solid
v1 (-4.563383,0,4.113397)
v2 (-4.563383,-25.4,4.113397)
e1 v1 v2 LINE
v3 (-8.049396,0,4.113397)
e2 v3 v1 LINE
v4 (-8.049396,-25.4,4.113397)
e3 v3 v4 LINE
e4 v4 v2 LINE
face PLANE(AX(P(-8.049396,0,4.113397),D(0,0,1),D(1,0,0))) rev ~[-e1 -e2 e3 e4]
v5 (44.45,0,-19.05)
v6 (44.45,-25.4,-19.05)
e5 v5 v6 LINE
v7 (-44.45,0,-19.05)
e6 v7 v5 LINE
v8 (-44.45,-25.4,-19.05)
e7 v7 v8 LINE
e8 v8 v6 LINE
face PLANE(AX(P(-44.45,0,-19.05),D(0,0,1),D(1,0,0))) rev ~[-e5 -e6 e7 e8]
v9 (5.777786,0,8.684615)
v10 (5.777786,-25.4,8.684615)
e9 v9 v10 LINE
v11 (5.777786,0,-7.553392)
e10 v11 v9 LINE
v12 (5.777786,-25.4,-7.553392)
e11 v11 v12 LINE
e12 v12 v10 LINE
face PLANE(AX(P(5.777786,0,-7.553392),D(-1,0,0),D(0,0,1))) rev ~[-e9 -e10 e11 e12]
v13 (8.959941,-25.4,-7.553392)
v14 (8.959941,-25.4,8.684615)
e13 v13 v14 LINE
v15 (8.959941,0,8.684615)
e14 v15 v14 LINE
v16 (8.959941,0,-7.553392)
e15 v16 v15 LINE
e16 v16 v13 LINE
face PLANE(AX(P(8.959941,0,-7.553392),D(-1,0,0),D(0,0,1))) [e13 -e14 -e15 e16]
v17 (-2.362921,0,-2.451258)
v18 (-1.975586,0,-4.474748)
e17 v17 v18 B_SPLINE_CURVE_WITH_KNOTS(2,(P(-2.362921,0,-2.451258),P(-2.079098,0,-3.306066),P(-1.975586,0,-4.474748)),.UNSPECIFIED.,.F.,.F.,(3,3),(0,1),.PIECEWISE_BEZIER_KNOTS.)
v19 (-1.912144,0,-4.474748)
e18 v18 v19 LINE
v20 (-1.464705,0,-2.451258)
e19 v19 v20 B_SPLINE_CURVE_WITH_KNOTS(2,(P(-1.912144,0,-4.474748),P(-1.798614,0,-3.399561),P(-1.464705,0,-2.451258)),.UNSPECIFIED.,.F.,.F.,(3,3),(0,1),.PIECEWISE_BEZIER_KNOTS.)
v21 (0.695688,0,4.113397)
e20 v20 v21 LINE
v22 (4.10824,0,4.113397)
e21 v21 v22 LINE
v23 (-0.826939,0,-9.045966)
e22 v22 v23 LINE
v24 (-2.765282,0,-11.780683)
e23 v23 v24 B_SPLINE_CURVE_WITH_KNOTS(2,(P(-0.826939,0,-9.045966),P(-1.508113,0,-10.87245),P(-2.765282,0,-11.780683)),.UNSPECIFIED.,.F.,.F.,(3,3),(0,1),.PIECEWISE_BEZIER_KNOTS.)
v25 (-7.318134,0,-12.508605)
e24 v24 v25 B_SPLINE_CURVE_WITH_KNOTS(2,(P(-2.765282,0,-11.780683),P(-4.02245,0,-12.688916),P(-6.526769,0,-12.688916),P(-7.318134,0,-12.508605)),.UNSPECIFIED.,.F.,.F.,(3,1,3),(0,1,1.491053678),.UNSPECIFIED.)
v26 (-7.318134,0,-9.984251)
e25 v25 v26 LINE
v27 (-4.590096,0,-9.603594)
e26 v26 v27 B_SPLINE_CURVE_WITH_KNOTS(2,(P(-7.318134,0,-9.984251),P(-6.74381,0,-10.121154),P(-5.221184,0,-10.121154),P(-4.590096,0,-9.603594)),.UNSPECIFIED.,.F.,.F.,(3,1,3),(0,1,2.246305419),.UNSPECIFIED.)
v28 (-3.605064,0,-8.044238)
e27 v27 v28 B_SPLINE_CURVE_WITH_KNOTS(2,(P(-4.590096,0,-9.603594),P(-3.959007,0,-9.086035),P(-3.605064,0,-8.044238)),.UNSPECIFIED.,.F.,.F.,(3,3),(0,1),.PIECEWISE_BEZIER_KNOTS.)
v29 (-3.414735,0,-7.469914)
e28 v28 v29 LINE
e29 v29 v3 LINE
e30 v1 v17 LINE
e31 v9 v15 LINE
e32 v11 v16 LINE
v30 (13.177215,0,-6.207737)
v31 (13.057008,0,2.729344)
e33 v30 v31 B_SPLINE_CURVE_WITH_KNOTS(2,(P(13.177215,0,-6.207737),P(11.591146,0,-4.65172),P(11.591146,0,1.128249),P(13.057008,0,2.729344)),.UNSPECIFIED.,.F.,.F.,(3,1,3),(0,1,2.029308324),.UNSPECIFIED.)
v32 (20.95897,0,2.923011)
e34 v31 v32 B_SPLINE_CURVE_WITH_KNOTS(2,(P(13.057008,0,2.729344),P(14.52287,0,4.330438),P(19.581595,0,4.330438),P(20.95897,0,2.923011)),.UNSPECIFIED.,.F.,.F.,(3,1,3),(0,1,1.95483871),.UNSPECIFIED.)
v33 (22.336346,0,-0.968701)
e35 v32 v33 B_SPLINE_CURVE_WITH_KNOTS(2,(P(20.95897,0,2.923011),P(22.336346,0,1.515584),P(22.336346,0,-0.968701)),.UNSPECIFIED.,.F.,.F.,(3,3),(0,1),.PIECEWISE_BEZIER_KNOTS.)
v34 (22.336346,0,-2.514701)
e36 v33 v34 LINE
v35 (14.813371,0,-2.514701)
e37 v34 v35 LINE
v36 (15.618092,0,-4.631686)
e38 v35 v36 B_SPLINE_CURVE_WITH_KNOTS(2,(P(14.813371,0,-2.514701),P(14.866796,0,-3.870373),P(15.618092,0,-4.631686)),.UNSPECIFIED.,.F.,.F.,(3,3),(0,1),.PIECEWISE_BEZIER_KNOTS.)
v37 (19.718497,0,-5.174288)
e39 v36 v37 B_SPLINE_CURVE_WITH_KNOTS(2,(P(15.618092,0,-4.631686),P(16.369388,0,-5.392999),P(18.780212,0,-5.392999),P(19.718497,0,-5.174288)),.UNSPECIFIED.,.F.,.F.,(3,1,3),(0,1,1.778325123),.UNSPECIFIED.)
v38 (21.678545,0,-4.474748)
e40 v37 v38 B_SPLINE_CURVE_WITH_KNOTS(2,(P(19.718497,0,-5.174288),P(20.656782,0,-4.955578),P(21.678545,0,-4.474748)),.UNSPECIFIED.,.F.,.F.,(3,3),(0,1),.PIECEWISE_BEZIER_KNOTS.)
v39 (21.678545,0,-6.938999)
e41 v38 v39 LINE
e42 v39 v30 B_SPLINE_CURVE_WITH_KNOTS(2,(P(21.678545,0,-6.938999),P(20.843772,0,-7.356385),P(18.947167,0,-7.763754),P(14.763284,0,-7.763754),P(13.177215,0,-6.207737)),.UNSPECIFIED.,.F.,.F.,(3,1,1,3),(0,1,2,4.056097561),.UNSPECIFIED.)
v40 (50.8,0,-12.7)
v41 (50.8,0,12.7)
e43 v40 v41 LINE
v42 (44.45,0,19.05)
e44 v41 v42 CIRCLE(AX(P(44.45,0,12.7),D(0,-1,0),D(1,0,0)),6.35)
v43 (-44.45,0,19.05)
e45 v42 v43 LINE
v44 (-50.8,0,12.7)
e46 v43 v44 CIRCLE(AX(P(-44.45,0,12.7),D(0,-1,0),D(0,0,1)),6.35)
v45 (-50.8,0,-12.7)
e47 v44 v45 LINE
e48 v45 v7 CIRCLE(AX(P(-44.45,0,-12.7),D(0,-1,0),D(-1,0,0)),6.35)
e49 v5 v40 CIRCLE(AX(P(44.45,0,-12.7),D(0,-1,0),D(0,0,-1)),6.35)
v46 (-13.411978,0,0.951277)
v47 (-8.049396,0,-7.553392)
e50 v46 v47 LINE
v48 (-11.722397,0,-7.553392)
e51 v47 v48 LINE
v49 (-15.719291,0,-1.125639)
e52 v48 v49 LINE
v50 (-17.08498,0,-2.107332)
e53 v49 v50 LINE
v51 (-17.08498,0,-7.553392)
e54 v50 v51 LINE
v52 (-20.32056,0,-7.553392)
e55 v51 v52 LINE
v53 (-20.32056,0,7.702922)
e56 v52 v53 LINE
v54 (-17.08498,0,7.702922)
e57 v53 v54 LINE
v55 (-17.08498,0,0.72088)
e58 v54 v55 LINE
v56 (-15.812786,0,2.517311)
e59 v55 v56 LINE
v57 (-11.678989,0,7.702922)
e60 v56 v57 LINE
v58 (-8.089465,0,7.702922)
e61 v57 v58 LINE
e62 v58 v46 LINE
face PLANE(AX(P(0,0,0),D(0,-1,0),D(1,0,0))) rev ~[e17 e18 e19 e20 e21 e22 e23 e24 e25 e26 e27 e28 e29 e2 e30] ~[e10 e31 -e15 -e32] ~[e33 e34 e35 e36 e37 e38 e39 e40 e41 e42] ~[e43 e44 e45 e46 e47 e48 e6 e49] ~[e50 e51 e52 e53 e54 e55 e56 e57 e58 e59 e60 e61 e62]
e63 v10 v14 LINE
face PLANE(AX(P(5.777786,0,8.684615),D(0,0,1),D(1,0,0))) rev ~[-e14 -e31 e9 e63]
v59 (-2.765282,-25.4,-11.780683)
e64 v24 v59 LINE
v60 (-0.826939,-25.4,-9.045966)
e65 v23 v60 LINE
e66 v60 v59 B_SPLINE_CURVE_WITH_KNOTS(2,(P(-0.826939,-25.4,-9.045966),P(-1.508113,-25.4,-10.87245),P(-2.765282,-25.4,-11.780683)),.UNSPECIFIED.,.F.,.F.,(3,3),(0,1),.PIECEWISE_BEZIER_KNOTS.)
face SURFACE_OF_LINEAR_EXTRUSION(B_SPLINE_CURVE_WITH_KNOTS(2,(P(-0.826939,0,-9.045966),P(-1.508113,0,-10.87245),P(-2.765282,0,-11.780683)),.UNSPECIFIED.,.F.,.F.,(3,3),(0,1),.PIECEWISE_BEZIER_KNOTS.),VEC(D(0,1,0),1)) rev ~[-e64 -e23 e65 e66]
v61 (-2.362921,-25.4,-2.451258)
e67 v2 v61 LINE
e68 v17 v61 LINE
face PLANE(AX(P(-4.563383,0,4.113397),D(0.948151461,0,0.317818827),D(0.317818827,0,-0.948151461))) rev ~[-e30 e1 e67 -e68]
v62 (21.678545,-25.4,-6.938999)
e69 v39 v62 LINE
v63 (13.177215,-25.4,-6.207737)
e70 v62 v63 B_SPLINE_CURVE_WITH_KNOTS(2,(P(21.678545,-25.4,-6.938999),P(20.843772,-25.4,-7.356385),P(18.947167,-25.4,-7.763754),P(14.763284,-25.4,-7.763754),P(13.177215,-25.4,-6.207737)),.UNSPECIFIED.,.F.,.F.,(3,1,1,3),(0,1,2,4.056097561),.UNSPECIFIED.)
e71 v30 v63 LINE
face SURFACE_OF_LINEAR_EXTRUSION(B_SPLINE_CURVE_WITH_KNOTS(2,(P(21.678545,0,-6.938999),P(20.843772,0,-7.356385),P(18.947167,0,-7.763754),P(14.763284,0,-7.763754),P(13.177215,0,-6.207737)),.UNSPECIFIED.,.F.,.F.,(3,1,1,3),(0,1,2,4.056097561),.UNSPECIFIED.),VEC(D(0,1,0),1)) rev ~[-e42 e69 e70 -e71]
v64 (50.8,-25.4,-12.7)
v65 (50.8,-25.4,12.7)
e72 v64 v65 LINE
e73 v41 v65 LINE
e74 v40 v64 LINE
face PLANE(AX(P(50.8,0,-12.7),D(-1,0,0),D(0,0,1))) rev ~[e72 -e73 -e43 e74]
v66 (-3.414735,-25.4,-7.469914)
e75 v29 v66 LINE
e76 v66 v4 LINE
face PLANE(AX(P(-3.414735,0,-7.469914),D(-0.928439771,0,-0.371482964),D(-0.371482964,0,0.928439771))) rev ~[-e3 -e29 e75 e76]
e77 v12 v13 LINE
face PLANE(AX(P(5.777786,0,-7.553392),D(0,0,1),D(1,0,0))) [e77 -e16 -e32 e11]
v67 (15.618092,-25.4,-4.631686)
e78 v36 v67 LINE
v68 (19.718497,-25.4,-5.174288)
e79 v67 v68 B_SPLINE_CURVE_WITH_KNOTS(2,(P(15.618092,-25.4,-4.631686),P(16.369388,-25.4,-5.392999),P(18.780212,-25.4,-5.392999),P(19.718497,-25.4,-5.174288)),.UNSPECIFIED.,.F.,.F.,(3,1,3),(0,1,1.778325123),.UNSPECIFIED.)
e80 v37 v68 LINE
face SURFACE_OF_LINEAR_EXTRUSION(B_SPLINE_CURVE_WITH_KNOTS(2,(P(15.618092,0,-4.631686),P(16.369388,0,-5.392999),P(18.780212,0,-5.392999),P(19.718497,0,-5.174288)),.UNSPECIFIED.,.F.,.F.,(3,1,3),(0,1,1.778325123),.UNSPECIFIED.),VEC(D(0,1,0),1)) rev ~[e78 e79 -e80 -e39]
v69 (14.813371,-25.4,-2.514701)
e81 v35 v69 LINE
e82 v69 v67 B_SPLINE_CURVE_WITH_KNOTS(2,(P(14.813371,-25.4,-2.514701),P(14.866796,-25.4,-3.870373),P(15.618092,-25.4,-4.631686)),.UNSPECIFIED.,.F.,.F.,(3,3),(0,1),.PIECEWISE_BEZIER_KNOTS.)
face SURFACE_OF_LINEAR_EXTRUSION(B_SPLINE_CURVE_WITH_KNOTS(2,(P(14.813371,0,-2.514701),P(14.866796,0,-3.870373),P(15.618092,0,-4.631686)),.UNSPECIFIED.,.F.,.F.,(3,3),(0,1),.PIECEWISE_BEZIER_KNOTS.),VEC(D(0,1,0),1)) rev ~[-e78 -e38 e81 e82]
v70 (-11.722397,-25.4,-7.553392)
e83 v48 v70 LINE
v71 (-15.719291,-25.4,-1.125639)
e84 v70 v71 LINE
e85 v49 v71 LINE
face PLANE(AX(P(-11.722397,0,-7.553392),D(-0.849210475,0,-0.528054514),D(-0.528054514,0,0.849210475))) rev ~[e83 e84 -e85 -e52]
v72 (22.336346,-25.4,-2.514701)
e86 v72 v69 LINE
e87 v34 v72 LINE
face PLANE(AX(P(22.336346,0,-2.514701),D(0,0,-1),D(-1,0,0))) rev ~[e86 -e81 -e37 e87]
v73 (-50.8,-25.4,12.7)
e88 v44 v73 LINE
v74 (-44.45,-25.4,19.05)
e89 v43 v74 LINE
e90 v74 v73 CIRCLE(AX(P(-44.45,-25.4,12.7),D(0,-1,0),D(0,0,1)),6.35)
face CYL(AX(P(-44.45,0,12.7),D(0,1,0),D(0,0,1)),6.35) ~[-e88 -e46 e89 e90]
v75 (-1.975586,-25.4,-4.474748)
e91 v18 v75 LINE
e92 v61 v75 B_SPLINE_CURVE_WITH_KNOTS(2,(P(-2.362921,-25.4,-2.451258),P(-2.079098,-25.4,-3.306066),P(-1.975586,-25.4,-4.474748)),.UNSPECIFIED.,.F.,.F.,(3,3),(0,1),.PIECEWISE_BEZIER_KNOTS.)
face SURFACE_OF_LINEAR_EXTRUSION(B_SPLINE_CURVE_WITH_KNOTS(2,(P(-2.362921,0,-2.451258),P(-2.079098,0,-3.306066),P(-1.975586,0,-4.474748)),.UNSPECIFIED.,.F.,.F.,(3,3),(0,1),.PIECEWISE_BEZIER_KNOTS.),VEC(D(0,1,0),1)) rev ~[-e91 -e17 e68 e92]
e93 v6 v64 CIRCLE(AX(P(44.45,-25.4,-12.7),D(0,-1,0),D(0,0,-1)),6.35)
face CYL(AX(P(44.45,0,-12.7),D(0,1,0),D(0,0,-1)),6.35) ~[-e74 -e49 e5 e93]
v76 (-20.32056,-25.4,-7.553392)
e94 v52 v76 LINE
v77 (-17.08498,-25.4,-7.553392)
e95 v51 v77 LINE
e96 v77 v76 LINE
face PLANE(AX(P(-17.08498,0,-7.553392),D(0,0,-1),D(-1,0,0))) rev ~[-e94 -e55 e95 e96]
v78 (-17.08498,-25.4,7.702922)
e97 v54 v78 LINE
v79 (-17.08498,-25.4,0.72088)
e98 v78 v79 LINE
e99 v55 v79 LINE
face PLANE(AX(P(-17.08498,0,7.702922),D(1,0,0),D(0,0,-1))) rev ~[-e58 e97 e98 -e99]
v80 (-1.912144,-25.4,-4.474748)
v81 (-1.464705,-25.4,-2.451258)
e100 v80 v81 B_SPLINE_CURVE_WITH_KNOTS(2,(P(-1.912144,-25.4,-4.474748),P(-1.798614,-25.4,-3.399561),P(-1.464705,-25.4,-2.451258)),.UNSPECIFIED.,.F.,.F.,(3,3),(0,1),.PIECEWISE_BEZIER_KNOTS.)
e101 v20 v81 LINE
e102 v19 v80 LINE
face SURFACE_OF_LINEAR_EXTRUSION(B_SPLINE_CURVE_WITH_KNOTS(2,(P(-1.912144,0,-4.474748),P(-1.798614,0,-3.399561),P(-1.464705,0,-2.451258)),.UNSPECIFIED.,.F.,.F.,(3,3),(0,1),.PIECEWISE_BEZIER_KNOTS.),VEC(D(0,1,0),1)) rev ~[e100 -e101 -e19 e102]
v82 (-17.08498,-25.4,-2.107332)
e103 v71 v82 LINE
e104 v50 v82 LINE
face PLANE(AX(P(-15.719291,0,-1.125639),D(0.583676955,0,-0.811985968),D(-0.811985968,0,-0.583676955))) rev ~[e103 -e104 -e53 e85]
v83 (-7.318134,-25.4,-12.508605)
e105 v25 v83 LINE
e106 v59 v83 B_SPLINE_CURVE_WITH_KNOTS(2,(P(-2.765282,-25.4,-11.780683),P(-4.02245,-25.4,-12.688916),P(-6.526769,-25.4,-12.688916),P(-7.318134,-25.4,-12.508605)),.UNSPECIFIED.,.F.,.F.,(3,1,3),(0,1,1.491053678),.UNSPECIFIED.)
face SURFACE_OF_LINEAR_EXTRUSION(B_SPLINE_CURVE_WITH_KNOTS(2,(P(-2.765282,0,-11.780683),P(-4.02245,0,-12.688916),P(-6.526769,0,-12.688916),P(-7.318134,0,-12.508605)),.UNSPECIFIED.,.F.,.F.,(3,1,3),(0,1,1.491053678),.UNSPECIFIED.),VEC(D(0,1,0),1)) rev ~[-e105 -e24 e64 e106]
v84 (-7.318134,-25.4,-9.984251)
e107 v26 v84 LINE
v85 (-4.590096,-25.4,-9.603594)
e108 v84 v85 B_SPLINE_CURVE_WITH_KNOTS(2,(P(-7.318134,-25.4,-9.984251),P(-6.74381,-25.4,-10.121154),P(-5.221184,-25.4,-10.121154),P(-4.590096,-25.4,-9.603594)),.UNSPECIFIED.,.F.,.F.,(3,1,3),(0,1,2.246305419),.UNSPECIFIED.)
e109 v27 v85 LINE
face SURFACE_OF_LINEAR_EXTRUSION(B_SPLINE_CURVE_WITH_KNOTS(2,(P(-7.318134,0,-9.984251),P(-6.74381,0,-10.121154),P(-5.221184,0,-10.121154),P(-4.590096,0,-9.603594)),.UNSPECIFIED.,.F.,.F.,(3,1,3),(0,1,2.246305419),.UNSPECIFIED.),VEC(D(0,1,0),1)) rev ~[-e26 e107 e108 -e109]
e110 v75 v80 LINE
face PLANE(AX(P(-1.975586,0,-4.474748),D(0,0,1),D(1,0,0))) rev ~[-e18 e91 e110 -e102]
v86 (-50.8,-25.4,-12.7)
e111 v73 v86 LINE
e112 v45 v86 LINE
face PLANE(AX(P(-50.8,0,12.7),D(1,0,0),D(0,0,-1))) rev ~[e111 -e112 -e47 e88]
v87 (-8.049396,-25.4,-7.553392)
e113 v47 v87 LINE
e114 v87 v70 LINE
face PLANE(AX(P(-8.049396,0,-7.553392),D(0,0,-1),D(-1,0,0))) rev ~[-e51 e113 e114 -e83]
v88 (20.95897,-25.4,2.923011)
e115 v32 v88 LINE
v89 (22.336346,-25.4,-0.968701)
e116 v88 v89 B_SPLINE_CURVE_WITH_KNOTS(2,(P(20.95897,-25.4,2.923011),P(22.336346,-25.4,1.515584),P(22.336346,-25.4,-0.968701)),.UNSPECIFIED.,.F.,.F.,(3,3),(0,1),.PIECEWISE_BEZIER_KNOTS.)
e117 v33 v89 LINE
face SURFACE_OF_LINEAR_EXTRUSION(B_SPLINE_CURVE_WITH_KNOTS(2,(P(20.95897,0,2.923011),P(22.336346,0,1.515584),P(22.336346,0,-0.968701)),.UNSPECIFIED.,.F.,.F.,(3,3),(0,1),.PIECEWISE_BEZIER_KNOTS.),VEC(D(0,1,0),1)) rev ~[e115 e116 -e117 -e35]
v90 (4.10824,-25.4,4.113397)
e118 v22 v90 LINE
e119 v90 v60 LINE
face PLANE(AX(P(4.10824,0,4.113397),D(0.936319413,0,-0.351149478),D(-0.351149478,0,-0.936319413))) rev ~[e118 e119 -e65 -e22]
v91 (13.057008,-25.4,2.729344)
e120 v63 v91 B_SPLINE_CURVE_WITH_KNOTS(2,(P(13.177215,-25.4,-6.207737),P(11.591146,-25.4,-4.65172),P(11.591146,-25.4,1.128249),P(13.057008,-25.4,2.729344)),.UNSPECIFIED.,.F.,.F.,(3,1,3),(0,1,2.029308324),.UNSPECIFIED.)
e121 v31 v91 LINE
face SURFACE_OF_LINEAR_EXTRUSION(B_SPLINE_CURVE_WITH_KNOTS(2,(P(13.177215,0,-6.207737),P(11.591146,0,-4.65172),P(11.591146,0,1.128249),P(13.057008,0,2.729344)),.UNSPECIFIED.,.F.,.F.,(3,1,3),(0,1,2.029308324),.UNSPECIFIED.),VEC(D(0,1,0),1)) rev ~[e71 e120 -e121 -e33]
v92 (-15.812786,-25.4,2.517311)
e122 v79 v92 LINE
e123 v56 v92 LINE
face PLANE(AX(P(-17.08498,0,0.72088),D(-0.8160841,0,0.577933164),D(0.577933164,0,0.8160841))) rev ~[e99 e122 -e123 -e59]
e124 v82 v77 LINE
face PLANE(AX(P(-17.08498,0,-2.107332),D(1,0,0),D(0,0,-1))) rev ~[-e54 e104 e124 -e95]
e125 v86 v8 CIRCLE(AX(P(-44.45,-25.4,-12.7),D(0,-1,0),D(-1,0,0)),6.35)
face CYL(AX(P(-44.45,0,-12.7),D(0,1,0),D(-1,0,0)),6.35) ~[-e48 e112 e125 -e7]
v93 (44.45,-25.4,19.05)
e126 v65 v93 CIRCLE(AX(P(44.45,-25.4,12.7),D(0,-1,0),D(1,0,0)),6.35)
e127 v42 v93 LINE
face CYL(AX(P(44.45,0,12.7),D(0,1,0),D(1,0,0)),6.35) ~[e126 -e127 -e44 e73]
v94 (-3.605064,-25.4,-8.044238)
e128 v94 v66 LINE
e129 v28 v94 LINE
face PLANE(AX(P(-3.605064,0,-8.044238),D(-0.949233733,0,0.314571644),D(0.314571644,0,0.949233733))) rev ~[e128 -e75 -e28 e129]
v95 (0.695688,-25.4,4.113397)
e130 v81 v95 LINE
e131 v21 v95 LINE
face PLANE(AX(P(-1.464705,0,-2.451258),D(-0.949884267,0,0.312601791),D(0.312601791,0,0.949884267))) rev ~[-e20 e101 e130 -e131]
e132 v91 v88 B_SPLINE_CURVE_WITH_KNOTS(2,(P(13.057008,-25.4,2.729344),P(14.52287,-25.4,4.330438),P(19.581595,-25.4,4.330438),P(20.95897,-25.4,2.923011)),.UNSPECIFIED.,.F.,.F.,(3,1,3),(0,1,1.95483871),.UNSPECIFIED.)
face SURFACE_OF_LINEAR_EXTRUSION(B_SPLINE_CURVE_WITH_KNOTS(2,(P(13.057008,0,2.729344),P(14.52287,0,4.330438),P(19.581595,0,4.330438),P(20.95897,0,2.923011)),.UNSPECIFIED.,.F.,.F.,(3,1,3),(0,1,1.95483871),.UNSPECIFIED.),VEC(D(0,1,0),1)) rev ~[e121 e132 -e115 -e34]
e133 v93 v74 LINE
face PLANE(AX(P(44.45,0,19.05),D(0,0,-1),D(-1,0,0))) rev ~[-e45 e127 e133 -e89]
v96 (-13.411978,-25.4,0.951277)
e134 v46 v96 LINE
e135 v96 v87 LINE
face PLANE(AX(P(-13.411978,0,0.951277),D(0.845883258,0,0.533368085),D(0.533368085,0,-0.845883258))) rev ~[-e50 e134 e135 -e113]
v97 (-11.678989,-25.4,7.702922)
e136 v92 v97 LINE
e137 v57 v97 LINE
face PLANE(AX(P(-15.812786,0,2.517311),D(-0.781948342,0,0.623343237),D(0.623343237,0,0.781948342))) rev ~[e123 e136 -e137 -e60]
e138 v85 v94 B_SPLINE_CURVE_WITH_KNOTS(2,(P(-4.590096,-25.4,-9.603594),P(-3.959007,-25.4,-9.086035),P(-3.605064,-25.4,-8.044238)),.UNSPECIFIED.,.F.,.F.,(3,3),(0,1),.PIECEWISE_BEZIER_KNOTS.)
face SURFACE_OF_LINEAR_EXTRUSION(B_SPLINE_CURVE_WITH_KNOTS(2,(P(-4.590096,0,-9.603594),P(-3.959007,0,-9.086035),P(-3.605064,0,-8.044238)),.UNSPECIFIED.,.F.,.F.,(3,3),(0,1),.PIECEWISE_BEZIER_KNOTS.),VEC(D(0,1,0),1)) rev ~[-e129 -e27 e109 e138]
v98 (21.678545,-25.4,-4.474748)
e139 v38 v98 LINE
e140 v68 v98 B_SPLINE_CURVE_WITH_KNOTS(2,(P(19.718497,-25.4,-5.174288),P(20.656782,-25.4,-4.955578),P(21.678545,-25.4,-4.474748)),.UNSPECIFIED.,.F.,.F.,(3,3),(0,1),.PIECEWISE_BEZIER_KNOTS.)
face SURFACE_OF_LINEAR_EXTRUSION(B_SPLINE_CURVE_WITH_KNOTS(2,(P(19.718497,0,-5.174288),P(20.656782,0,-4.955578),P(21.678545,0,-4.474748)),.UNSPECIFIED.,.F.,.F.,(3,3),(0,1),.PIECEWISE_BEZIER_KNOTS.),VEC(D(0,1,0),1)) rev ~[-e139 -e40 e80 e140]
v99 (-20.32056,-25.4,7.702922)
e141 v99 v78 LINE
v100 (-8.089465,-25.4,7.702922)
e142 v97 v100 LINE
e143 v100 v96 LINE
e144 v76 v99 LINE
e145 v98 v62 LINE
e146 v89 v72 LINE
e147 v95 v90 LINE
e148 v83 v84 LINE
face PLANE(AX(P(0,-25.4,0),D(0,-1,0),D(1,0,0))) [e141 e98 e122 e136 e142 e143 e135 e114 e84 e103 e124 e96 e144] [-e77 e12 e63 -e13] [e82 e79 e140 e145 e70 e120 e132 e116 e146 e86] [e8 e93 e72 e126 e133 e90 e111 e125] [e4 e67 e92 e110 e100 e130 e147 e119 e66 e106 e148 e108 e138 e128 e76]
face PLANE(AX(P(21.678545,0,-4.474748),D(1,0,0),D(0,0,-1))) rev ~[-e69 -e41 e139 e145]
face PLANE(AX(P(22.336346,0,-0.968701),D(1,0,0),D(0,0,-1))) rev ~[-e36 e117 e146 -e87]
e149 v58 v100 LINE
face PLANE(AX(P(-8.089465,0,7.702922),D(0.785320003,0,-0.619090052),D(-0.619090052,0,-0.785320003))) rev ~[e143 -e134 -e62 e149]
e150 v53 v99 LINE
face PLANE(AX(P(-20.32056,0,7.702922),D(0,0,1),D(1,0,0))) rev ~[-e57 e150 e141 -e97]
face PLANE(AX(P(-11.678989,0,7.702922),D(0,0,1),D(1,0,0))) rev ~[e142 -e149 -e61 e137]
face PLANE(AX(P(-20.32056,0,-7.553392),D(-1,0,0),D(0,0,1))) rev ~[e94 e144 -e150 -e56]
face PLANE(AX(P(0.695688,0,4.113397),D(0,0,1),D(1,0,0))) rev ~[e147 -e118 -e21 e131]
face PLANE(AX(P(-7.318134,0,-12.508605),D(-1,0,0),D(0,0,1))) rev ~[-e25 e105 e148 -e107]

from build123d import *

# Parameters (mm, degrees)
F0_W     = 3.1821551265
F0_H     = 16.2380066949
F1_DEPTH = 25.4


with BuildPart() as f1:
    # F0 (on Front) → F1 (new body)
    with BuildSketch(Plane.XZ):
        with BuildLine():
            ThreePointArc((50.8, 12.7), (48.9401280605, 17.1901280605), (44.45, 19.05))
            Line((44.45, 19.05), (-44.45, 19.05))
            ThreePointArc((-44.45, 19.05), (-48.9401280605, 17.1901280605), (-50.8, 12.7))
            Line((-50.8, 12.7), (-50.8, -12.7))
            ThreePointArc((-50.8, -12.7), (-48.9401280605, -17.1901280605), (-44.45, -19.05))
            Line((-44.45, -19.05), (44.45, -19.05))
            ThreePointArc((44.45, -19.05), (48.9401280605, -17.1901280605), (50.8, -12.7))
            Line((50.8, -12.7), (50.8, 12.7))
        make_face()
        with BuildLine():
            Line((-3.4147352544, -7.4699143124), (-8.0493956066, 4.1133974755))
            Line((-8.0493956066, 4.1133974755), (-4.563383065, 4.1133974755))
            Line((-4.563383065, 4.1133974755), (-2.3629211255, -2.4512583259))
            add(Edge.make_bspline(
                [(-2.3629211255, -2.4512583259), (-2.0790982653, -3.3060659989), (-1.9755863987, -4.4747483644)],
                knots=[0, 0, 0, 1, 1, 1], degree=2))
            Line((-1.9755863987, -4.4747483644), (-1.9121436417, -4.4747483644))
            add(Edge.make_bspline(
                [(-1.9121436417, -4.4747483644), (-1.7986144976, -3.3995605882), (-1.4647052503, -2.4512583259)],
                knots=[0, 0, 0, 1, 1, 1], degree=2))
            Line((-1.4647052503, -2.4512583259), (0.6956875795, 4.1133974755))
            Line((0.6956875795, 4.1133974755), (4.1082400867, 4.1133974755))
            Line((4.1082400867, 4.1133974755), (-0.826938588, -9.0459659596))
            add(Edge.make_bspline(
                [(-0.826938588, -9.0459659596), (-1.5081134525, -10.8724495421), (-2.7652817685, -11.7806826947)],
                knots=[0, 0, 0, 1, 1, 1], degree=2))
            add(Edge.make_bspline(
                [(-2.7652817685, -11.7806826947), (-4.0224500844, -12.6889158473), (-5.7020135982, -12.6889158473)],
                knots=[0, 0, 0, 1, 1, 1], degree=2))
            add(Edge.make_bspline(
                [(-5.7020135982, -12.6889158473), (-6.526769439, -12.6889158473), (-7.318134355, -12.5086048538)],
                knots=[0, 0, 0, 1, 1, 1], degree=2))
            Line((-7.318134355, -12.5086048538), (-7.318134355, -9.9842509444))
            add(Edge.make_bspline(
                [(-7.318134355, -9.9842509444), (-6.7438104497, -10.1211537358), (-6.0659746778, -10.1211537358)],
                knots=[0, 0, 0, 1, 1, 1], degree=2))
            add(Edge.make_bspline(
                [(-6.0659746778, -10.1211537358), (-5.2211842822, -10.1211537358), (-4.5900958048, -9.6035944025)],
                knots=[0, 0, 0, 1, 1, 1], degree=2))
            add(Edge.make_bspline(
                [(-4.5900958048, -9.6035944025), (-3.9590073275, -9.0860350692), (-3.6050635254, -8.0442382177)],
                knots=[0, 0, 0, 1, 1, 1], degree=2))
            Line((-3.6050635254, -8.0442382177), (-3.4147352544, -7.4699143124))
        make_face(mode=Mode.SUBTRACT)
        with BuildLine():
            add(Edge.make_bspline(
                [(19.8954692978, -7.5600698092), (18.9471670355, -7.76375445), (17.5781391217, -7.76375445)],
                knots=[0, 0, 0, 1, 1, 1], degree=2))
            add(Edge.make_bspline(
                [(17.5781391217, -7.76375445), (14.7632841672, -7.76375445), (13.1772152426, -6.2077373577)],
                knots=[0, 0, 0, 1, 1, 1], degree=2))
            add(Edge.make_bspline(
                [(13.1772152426, -6.2077373577), (11.5911463181, -4.6517202654), (11.5911463181, -1.8034743862)],
                knots=[0, 0, 0, 1, 1, 1], degree=2))
            add(Edge.make_bspline(
                [(11.5911463181, -1.8034743862), (11.5911463181, 1.1282488049), (13.0570079136, 2.7293436456)],
                knots=[0, 0, 0, 1, 1, 1], degree=2))
            add(Edge.make_bspline(
                [(13.0570079136, 2.7293436456), (14.5228695092, 4.3304384862), (17.1106661755, 4.3304384862)],
                knots=[0, 0, 0, 1, 1, 1], degree=2))
            add(Edge.make_bspline(
                [(17.1106661755, 4.3304384862), (19.5815946054, 4.3304384862), (20.9589702504, 2.923011009)],
                knots=[0, 0, 0, 1, 1, 1], degree=2))
            add(Edge.make_bspline(
                [(20.9589702504, 2.923011009), (22.3363458954, 1.5155835317), (22.3363458954, -0.968701268)],
                knots=[0, 0, 0, 1, 1, 1], degree=2))
            Line((22.3363458954, -0.968701268), (22.3363458954, -2.5147010829))
            Line((22.3363458954, -2.5147010829), (14.8133705543, -2.5147010829))
            add(Edge.make_bspline(
                [(14.8133705543, -2.5147010829), (14.8667960339, -3.8703726268), (15.6180918402, -4.6316857106)],
                knots=[0, 0, 0, 1, 1, 1], degree=2))
            add(Edge.make_bspline(
                [(15.6180918402, -4.6316857106), (16.3693876466, -5.3929987944), (17.7250591905, -5.3929987944)],
                knots=[0, 0, 0, 1, 1, 1], degree=2))
            add(Edge.make_bspline(
                [(17.7250591905, -5.3929987944), (18.7802124119, -5.3929987944), (19.7184973968, -5.1742882374)],
                knots=[0, 0, 0, 1, 1, 1], degree=2))
            add(Edge.make_bspline(
                [(19.7184973968, -5.1742882374), (20.6567823816, -4.9555776804), (21.6785446783, -4.4747483644)],
                knots=[0, 0, 0, 1, 1, 1], degree=2))
            Line((21.6785446783, -4.4747483644), (21.6785446783, -6.9389986093))
            add(Edge.make_bspline(
                [(21.6785446783, -6.9389986093), (20.8437715601, -7.3563851684), (19.8954692978, -7.5600698092)],
                knots=[0, 0, 0, 1, 1, 1], degree=2))
        make_face(mode=Mode.SUBTRACT)
        Polygon((-13.4119781178, 0.9512769038), (-8.0493956066, -7.5533916242), (-11.7223973266, -7.5533916242), (-15.7192910165, -1.1256386142), (-17.0849798378, -2.1073318012), (-17.0849798378, -7.5533916242), (-20.3205604439, -7.5533916242), (-20.3205604439, 7.7029218837), (-17.0849798378, 7.7029218837), (-17.0849798378, 0.7208795232), (-15.8127856057, 2.5173112736), (-11.6789891244, 7.7029218837), (-8.0894647162, 7.7029218837), align=None, mode=Mode.SUBTRACT)
        with Locations((7.3688638863, 0.5656117232)):
            Rectangle(F0_W, F0_H, mode=Mode.SUBTRACT)
    extrude(amount=F1_DEPTH)


solid = f1.part
